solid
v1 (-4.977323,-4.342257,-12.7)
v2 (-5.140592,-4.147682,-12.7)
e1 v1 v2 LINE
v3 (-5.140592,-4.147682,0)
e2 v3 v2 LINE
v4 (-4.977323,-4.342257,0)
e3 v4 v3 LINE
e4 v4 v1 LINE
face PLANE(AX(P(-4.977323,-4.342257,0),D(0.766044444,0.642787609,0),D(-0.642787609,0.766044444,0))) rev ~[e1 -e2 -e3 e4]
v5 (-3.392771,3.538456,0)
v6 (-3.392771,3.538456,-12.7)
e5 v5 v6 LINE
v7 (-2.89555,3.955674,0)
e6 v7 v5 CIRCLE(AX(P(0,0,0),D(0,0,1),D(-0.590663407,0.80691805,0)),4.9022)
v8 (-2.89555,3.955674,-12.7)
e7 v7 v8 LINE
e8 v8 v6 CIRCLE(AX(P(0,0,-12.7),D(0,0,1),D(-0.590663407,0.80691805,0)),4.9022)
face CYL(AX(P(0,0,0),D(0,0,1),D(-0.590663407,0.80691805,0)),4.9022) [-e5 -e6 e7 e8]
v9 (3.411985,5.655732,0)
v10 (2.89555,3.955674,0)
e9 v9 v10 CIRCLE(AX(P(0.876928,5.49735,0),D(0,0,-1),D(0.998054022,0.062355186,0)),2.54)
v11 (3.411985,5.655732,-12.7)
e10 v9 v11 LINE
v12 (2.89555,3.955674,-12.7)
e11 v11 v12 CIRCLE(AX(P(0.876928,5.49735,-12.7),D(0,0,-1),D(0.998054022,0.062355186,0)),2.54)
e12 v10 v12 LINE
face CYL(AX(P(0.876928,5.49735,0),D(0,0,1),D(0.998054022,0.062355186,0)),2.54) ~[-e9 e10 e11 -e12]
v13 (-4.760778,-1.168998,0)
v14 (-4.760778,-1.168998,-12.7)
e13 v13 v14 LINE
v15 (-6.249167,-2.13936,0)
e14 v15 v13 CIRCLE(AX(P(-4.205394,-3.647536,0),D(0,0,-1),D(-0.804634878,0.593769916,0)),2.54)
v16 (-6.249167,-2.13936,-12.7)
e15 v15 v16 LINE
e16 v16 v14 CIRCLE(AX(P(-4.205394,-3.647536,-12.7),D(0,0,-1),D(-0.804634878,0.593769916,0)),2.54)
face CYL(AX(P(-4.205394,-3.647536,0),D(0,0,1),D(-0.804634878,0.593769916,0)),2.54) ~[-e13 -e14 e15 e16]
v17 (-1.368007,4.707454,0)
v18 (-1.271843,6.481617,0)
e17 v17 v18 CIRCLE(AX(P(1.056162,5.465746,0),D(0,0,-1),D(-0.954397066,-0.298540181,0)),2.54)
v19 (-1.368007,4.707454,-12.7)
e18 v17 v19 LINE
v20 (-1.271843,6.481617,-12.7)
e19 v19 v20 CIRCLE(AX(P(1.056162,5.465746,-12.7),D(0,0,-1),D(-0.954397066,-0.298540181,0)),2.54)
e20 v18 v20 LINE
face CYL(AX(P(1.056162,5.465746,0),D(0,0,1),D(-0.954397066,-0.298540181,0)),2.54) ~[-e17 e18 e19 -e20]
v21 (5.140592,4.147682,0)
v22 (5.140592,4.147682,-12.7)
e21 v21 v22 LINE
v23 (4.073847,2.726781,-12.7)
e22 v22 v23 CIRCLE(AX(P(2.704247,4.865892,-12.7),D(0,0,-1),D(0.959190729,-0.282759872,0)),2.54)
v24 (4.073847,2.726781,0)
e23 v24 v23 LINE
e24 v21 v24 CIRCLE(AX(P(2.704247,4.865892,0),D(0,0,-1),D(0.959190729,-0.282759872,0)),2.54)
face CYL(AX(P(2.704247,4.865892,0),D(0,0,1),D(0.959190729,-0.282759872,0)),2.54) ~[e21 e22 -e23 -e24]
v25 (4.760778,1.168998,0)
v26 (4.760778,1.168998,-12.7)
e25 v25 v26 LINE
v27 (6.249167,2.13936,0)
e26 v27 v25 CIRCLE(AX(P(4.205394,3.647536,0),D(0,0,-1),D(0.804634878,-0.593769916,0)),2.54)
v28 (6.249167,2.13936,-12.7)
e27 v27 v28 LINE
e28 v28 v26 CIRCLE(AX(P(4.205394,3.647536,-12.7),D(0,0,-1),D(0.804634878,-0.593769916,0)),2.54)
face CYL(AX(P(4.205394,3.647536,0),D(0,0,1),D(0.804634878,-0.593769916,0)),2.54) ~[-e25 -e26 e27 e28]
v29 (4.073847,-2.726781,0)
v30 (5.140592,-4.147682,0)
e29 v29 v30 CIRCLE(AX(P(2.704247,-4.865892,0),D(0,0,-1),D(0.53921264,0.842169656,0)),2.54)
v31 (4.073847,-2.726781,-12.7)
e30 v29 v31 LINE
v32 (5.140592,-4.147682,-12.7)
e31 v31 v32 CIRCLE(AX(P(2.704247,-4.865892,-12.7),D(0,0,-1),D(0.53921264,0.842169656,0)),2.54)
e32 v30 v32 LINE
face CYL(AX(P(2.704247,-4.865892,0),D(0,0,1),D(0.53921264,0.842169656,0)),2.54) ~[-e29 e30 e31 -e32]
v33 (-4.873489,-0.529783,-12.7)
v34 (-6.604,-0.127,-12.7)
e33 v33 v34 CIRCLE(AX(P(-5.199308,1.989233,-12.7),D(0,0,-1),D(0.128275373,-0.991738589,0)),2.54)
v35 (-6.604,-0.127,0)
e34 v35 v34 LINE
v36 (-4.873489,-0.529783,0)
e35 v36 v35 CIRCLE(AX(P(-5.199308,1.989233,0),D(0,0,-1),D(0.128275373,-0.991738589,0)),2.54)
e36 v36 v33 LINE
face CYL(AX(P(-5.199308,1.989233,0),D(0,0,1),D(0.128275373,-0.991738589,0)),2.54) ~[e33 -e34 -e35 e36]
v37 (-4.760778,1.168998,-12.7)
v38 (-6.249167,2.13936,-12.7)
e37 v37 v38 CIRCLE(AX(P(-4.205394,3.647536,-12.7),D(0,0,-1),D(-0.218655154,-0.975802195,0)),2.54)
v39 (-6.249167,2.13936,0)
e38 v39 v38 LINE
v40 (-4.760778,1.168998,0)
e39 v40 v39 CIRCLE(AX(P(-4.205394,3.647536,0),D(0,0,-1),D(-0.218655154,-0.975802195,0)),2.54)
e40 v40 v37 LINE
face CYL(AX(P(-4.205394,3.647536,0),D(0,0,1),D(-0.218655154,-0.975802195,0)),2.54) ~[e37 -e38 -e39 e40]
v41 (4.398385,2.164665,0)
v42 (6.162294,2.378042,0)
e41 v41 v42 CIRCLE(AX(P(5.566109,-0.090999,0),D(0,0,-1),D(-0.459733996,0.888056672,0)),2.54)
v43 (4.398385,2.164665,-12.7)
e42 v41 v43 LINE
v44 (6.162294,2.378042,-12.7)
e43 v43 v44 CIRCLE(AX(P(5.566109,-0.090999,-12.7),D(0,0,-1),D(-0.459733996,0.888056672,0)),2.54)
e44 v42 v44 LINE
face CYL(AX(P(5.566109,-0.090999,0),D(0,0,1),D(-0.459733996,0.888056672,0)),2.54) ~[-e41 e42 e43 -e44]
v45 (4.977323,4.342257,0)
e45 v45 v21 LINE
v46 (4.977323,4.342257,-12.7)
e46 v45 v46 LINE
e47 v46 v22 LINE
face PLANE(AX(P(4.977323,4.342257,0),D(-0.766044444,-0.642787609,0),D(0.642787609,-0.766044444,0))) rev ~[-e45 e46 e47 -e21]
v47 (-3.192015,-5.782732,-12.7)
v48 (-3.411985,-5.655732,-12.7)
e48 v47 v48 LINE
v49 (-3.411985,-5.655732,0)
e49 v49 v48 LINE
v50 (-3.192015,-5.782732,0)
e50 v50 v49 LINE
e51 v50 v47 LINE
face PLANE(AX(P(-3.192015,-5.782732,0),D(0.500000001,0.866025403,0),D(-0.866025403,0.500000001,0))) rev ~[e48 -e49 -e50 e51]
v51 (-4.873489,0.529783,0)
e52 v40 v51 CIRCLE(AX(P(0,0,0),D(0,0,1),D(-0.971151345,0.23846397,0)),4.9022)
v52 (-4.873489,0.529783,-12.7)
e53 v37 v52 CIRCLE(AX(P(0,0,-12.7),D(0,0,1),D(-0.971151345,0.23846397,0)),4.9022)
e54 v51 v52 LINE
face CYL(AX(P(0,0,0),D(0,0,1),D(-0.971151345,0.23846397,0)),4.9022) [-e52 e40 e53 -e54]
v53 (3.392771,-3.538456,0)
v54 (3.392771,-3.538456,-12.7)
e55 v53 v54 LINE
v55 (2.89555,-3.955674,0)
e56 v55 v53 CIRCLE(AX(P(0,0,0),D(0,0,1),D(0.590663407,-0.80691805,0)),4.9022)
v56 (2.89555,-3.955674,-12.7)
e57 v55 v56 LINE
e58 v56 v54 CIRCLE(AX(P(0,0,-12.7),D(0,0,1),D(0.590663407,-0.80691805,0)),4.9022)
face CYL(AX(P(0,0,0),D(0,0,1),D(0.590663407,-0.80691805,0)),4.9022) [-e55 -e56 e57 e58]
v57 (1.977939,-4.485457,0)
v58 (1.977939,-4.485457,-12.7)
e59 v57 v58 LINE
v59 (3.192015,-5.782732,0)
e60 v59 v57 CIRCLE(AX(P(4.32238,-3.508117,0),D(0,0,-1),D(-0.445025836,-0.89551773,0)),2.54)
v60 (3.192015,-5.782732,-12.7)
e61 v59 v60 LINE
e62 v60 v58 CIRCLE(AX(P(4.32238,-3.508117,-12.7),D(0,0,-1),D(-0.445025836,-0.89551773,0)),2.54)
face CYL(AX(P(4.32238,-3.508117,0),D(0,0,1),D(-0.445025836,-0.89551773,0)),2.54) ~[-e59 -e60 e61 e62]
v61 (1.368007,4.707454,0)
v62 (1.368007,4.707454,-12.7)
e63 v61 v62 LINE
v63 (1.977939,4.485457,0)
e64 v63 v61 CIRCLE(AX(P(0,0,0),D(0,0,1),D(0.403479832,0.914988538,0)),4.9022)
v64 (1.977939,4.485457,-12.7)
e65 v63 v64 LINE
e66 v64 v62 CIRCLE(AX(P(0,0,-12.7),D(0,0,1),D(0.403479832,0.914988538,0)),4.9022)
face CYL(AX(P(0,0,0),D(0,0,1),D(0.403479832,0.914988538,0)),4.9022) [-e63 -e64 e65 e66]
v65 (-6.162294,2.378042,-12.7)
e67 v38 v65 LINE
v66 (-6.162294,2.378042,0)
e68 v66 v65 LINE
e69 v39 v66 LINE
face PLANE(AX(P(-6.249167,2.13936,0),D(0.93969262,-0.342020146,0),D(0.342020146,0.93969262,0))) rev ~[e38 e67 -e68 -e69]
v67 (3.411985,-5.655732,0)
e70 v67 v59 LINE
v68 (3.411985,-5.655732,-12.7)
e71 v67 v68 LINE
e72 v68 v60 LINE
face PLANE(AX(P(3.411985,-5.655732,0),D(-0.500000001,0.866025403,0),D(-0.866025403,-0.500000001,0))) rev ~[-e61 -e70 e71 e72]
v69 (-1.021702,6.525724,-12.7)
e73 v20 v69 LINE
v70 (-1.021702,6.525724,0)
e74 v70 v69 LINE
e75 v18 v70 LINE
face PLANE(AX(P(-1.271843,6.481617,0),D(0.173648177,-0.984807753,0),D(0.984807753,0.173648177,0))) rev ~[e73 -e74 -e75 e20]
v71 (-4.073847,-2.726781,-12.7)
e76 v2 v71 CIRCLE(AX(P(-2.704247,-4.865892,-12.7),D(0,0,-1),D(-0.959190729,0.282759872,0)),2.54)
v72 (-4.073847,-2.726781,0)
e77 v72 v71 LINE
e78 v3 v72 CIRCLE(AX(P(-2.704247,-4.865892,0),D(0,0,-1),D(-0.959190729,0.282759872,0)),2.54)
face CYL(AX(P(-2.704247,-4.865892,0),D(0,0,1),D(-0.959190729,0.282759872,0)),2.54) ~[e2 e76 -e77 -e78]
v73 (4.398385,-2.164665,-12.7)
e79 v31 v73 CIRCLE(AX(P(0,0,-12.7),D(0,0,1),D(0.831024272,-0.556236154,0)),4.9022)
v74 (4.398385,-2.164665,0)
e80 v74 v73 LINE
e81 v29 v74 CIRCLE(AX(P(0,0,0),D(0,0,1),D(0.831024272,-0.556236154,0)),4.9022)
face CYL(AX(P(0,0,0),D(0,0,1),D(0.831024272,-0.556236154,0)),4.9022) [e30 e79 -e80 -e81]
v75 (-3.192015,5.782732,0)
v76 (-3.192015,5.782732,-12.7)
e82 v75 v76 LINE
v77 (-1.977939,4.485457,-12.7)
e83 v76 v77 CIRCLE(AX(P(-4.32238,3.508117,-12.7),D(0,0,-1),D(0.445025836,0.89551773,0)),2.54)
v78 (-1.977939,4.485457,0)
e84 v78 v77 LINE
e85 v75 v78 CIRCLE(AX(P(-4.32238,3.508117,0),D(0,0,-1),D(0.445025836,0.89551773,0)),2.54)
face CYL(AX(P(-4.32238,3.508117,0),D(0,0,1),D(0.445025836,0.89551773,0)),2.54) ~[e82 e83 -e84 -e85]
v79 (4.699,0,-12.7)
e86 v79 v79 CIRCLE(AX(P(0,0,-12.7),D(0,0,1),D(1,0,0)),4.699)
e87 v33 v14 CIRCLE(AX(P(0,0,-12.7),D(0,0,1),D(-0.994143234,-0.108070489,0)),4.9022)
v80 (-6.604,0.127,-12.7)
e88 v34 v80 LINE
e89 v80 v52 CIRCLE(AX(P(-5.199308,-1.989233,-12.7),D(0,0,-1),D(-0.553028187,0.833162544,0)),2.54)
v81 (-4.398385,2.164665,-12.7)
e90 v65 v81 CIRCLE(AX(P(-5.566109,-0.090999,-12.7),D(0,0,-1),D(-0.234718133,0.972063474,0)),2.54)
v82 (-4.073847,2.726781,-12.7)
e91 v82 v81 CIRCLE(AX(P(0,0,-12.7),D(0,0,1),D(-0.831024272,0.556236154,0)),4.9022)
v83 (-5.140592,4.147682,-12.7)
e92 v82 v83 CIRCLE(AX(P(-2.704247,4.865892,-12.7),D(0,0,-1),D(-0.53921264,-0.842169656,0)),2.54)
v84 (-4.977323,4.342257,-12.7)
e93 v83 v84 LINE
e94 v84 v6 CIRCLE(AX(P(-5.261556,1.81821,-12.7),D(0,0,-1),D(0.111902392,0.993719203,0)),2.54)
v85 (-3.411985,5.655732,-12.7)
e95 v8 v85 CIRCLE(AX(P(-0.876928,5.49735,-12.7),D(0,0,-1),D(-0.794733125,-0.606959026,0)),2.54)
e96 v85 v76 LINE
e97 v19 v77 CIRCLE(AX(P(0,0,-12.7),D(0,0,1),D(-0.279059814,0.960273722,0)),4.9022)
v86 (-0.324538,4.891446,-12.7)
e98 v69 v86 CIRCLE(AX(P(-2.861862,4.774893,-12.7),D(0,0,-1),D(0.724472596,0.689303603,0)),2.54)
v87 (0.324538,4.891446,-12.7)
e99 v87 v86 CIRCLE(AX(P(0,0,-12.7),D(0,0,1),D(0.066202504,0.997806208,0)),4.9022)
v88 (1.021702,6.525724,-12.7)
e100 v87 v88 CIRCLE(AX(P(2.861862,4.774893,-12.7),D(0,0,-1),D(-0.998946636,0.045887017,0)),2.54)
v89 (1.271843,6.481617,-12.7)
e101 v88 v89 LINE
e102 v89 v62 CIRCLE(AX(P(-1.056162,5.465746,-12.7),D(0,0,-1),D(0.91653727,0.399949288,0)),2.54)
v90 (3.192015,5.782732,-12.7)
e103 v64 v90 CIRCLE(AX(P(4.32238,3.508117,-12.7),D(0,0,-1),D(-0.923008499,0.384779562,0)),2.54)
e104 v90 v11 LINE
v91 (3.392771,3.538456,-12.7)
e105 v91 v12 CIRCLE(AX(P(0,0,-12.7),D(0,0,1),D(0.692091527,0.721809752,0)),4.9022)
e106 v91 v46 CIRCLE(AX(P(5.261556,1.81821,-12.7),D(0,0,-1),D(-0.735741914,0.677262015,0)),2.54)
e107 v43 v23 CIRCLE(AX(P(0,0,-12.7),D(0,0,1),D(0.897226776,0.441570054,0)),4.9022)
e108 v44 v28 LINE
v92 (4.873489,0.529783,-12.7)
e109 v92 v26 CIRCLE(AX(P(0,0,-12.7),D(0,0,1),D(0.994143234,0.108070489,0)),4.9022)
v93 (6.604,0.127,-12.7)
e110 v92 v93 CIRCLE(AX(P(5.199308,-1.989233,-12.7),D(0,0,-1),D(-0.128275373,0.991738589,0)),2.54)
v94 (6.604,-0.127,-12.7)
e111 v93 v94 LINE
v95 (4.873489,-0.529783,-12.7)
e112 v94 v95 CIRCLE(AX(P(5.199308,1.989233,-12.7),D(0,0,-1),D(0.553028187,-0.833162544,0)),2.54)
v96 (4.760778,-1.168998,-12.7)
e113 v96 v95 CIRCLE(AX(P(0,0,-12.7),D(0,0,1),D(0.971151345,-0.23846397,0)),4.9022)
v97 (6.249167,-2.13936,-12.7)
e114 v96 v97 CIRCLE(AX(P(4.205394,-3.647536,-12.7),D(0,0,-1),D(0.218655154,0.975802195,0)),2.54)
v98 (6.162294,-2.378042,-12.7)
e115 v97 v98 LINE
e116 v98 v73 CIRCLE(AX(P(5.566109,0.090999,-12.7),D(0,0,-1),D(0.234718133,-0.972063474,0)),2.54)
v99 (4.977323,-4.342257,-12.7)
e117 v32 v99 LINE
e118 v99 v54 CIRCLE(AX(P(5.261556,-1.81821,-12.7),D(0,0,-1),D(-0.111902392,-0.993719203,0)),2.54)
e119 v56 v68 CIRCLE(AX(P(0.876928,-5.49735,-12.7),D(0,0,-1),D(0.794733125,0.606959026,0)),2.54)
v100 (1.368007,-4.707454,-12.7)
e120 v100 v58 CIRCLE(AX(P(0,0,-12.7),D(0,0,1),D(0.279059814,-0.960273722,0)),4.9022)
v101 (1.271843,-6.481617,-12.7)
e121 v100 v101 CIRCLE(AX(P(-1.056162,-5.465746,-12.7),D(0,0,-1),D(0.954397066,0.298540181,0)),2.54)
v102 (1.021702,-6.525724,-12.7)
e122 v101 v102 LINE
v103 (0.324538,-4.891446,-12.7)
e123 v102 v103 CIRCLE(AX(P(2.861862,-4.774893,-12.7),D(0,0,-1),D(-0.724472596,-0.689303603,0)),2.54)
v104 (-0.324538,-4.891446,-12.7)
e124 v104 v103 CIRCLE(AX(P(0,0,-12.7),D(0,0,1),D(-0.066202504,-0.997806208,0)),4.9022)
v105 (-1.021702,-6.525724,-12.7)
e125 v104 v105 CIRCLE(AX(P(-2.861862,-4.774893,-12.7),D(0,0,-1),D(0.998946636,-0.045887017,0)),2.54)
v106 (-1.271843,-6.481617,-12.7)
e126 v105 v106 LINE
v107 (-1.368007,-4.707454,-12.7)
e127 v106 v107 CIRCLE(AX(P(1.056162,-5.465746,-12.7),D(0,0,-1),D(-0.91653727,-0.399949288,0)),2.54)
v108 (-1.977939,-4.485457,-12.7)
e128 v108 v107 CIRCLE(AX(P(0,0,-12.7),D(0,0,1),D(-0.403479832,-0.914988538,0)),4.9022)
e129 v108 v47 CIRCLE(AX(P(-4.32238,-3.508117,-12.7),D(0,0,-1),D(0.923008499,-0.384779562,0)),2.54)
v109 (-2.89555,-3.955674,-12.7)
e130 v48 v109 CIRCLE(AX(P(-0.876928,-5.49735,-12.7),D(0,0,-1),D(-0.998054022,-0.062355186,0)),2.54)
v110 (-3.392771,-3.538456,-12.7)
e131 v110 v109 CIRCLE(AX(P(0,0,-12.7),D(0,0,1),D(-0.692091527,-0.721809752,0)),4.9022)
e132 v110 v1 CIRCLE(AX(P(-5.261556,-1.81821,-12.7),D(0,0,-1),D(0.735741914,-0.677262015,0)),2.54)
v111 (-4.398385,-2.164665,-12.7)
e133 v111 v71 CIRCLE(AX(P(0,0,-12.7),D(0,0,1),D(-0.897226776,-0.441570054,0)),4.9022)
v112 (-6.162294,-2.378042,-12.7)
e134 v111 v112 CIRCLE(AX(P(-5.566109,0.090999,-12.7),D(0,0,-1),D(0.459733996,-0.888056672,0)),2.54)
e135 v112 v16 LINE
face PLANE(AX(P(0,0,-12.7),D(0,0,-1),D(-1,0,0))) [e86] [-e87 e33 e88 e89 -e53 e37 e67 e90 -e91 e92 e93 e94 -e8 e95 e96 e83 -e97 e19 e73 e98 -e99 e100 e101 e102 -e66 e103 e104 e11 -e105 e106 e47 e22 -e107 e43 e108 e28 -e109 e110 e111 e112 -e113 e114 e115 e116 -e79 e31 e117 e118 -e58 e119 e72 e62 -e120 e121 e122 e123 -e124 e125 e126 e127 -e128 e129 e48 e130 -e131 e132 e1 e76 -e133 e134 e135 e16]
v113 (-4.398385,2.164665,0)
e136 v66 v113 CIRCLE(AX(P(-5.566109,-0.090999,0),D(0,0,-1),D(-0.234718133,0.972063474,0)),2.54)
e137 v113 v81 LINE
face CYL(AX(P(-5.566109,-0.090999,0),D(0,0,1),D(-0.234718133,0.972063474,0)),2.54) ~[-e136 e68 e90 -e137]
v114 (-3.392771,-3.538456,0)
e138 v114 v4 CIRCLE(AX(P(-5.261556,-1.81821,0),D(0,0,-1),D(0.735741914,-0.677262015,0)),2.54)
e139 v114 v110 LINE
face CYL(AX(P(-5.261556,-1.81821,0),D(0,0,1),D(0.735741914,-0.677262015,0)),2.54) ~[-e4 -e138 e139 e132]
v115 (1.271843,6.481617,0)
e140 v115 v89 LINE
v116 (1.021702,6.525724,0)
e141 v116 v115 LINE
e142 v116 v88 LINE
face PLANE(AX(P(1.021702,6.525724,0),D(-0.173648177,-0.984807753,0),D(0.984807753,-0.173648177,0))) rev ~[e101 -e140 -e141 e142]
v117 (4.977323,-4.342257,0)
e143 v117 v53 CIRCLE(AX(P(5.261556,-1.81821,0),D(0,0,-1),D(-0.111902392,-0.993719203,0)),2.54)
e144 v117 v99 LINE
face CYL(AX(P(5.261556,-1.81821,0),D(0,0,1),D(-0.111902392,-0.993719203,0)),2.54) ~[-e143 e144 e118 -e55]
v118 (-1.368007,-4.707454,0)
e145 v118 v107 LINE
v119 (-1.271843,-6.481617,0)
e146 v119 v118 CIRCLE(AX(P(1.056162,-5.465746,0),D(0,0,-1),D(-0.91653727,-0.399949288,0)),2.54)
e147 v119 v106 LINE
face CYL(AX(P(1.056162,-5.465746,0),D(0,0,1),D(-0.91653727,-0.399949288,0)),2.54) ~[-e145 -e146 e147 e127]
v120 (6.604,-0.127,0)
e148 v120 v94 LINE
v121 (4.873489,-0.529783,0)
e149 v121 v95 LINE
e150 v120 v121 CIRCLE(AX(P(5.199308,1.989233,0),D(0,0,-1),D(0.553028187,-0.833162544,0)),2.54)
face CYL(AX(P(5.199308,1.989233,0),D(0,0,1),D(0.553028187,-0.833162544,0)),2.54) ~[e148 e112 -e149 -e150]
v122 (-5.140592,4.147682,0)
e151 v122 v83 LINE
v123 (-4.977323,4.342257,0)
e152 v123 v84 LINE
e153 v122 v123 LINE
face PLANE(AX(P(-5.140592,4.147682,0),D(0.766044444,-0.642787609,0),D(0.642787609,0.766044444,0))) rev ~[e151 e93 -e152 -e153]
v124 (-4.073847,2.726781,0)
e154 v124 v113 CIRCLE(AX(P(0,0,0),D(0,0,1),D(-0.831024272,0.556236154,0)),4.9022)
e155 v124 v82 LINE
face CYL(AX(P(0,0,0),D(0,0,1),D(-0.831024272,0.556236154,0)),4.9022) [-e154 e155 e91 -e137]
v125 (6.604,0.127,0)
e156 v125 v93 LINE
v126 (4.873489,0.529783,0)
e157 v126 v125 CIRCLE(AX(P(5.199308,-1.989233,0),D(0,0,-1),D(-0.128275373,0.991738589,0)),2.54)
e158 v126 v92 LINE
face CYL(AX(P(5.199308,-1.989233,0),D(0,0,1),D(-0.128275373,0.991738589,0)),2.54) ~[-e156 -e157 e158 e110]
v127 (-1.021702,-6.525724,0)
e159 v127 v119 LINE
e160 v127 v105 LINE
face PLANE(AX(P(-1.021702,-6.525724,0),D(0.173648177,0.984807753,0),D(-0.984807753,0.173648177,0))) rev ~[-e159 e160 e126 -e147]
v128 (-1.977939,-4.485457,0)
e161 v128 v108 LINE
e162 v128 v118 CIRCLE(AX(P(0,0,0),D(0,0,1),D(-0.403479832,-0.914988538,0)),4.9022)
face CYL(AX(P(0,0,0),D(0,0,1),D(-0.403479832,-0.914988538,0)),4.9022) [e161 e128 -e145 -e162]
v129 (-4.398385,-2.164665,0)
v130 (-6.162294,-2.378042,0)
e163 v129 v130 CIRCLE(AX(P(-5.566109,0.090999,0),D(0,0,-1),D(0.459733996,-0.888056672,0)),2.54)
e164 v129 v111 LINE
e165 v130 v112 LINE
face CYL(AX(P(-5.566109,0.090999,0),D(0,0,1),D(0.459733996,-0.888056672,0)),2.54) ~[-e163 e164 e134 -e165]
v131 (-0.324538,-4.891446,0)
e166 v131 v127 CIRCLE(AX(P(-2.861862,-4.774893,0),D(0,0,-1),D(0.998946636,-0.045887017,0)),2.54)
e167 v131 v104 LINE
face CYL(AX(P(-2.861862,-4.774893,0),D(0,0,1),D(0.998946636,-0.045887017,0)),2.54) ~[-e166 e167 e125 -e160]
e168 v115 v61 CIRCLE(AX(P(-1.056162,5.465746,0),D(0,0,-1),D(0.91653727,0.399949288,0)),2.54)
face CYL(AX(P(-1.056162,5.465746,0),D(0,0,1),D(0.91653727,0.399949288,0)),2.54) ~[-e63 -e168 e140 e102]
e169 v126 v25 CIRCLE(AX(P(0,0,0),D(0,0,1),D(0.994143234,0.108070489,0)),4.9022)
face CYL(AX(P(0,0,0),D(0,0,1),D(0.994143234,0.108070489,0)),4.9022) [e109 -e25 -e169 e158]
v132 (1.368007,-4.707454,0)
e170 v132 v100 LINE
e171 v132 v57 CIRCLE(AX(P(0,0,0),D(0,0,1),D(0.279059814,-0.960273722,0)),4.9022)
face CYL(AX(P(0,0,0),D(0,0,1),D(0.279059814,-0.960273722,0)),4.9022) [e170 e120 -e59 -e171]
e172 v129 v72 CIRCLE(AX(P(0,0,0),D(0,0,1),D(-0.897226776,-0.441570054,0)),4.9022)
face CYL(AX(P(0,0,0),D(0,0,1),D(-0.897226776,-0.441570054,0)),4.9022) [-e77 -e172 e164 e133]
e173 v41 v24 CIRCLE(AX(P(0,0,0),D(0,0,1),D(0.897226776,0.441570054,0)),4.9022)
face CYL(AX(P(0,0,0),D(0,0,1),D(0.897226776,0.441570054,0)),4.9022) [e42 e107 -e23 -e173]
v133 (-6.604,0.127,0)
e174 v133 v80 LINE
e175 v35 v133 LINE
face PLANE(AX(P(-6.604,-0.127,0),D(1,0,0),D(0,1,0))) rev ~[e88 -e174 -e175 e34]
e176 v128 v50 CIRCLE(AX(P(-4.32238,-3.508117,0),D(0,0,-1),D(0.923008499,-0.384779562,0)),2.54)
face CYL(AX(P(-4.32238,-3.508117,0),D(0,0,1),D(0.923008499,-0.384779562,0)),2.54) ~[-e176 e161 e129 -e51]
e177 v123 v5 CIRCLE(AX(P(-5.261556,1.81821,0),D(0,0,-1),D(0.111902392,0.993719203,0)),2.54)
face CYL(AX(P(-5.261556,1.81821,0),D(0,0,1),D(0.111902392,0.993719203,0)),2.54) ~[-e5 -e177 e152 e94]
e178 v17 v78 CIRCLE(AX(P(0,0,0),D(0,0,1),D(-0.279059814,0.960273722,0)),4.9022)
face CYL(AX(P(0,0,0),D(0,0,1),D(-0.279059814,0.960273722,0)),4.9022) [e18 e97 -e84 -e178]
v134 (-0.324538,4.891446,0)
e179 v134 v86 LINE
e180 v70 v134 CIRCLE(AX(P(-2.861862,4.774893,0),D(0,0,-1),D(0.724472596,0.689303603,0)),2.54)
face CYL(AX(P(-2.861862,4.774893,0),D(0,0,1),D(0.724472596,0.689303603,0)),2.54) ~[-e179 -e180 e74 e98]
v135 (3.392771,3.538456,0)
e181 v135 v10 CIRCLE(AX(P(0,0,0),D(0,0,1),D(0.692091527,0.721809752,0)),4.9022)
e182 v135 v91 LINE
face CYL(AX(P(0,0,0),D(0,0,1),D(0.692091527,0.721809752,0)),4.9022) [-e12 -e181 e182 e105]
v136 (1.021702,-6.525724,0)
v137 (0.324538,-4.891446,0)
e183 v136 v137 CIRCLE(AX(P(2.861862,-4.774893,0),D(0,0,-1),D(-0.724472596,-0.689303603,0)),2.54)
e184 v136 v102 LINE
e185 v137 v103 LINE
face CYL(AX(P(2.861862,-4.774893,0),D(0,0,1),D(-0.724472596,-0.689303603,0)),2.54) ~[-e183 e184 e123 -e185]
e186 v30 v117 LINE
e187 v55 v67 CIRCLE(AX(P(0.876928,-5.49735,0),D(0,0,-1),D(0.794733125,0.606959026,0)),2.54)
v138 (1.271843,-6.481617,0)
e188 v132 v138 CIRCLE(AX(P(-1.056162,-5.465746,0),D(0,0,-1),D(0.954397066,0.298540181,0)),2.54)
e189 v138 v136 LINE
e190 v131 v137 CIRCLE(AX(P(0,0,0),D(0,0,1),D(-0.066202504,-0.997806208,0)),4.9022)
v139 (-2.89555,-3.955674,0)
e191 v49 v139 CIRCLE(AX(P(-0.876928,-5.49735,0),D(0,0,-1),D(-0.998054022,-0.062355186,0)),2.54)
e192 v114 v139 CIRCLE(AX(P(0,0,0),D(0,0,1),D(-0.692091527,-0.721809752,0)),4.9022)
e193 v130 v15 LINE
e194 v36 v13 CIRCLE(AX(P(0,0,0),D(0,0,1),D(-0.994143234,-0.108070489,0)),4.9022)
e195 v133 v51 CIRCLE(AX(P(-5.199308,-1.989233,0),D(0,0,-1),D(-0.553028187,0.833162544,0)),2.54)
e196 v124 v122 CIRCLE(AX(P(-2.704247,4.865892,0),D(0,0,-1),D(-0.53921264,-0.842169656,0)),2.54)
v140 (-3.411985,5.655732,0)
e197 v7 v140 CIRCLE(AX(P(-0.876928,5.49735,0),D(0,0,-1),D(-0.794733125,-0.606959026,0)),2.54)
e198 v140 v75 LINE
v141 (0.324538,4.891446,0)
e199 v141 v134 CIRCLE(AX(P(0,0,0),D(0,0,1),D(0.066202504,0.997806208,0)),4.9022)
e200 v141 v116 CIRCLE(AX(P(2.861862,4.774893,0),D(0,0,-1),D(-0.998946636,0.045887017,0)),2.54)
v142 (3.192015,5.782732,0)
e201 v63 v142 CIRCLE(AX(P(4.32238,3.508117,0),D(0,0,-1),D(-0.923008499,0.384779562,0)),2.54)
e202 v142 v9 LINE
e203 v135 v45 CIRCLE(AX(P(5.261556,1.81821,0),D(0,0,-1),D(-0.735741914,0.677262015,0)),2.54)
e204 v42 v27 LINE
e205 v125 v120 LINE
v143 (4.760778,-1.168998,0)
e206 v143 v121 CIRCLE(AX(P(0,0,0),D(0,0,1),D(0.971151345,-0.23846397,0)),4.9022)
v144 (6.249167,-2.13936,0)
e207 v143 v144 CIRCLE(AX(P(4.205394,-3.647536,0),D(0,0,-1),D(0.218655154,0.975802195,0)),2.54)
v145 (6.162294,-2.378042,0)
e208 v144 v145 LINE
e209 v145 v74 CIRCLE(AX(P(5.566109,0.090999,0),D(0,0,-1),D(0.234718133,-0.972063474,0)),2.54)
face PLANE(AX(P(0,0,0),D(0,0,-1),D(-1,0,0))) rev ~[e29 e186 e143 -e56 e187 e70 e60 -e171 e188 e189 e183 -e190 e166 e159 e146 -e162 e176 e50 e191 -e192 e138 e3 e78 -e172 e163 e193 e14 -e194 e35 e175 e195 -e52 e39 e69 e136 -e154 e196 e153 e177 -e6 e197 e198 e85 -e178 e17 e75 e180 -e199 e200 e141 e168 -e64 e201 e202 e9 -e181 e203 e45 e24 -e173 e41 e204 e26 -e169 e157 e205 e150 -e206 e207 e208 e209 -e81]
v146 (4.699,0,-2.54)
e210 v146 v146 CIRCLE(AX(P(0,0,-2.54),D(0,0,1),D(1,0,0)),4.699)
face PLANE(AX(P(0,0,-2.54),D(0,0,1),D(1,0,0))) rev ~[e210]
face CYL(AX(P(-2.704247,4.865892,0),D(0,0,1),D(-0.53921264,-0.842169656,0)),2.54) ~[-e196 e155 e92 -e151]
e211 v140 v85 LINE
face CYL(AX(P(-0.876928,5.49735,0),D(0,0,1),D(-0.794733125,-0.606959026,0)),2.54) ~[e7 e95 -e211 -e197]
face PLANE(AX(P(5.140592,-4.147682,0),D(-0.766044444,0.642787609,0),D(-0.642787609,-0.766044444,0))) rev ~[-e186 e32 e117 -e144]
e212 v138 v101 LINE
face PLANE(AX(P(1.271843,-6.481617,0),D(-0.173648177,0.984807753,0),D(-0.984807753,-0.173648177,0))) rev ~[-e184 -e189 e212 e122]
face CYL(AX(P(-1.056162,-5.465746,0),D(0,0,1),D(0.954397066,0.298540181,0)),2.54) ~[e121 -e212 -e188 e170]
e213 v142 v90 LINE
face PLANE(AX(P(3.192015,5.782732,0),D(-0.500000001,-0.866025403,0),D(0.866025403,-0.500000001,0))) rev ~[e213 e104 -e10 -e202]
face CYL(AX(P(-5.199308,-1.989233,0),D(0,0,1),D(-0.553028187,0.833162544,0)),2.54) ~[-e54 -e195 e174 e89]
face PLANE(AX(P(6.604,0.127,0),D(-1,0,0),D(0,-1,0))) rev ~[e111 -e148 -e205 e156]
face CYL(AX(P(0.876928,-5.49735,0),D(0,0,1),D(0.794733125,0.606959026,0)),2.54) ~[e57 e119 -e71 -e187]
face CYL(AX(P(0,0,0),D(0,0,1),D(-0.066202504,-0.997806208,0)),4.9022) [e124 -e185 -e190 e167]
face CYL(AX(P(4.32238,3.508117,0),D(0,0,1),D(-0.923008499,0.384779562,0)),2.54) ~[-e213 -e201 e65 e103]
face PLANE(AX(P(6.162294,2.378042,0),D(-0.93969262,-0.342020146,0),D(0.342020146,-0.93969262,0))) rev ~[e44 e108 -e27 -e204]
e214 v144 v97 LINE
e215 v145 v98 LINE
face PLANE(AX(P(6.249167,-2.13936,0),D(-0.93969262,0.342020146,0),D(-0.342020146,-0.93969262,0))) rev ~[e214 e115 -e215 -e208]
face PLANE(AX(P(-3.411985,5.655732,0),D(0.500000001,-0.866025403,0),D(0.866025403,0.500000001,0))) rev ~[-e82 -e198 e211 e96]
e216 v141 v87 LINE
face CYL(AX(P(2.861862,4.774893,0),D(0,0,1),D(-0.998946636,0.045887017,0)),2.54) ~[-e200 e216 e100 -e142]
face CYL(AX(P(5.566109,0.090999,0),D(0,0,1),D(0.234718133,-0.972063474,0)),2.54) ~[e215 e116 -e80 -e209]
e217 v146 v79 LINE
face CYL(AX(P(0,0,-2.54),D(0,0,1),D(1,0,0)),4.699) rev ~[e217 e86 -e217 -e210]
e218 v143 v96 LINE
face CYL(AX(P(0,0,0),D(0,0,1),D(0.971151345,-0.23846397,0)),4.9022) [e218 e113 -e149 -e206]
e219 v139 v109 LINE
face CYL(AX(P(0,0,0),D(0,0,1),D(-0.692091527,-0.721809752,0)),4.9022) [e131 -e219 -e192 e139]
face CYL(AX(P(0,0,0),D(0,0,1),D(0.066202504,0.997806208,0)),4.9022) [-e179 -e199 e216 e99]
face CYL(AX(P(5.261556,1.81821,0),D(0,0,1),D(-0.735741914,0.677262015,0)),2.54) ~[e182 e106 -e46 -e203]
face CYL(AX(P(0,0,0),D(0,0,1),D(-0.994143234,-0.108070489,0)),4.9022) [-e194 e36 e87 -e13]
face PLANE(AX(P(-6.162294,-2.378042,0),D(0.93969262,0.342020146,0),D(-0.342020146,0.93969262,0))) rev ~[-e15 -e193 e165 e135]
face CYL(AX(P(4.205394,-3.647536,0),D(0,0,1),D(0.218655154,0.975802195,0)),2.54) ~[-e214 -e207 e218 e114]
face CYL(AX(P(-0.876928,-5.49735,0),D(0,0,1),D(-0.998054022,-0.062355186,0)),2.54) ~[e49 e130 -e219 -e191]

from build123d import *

# Parameters (mm, degrees)
BOSS_EXTRUDE1_DEPTH = 12.7
LARGER_TEETH_DEPTH  = 12.7
CUT_EXTRUDE1_START  = -2.54
SKETCH2_R           = 4.699
CUT_EXTRUDE1_DEPTH  = 10.16


with BuildPart() as part:
    # Sketch1 → Boss-Extrude1 (new body)
    with BuildSketch(Plane.XY):
        with BuildLine():
            ThreePointArc((4.073847183, 2.72678088), (4.623694629, 3.268673913), (4.961814921, 3.962687559))
            ThreePointArc((4.961814921, 3.962687559), (4.864382214, 4.081701322), (4.76409555, 4.19832033))
            ThreePointArc((4.76409555, 4.19832033), (4.021911558, 3.98585105), (3.392771091, 3.53845576))
            ThreePointArc((3.392771091, 3.53845576), (3.15107342, 3.755303069), (2.895550149, 3.955673669))
            ThreePointArc((2.895550149, 3.955673669), (3.226899403, 4.652945455), (3.3072619, 5.420748908))
            ThreePointArc((3.3072619, 5.420748908), (3.175, 5.499261314), (3.040875312, 5.574547276))
            ThreePointArc((3.040875312, 5.574547276), (2.416119265, 5.121049586), (1.977938812, 4.485456821))
            ThreePointArc((1.977938812, 4.485456821), (1.676651147, 4.606561166), (1.368007033, 4.707453834))
            ThreePointArc((1.368007033, 4.707453834), (1.440892486, 5.476003106), (1.253804284, 6.224987937))
            ThreePointArc((1.253804284, 6.224987937), (1.102665928, 6.253529232), (0.950880633, 6.27840155))
            ThreePointArc((0.950880633, 6.27840155), (0.518907331, 5.638573964), (0.324537921, 4.891445592))
            ThreePointArc((0.324537921, 4.891445592), (0, 4.9022), (-0.324537921, 4.891445592))
            ThreePointArc((-0.324537921, 4.891445592), (-0.518907331, 5.638573964), (-0.950880633, 6.27840155))
            ThreePointArc((-0.950880633, 6.27840155), (-1.102665928, 6.253529232), (-1.253804284, 6.224987937))
            ThreePointArc((-1.253804284, 6.224987937), (-1.440892486, 5.476003106), (-1.368007033, 4.707453834))
            ThreePointArc((-1.368007033, 4.707453834), (-1.676651147, 4.606561166), (-1.977938812, 4.485456821))
            ThreePointArc((-1.977938812, 4.485456821), (-2.416119265, 5.121049586), (-3.040875312, 5.574547276))
            ThreePointArc((-3.040875312, 5.574547276), (-3.175, 5.499261314), (-3.3072619, 5.420748908))
            ThreePointArc((-3.3072619, 5.420748908), (-3.226899403, 4.652945455), (-2.895550149, 3.955673669))
            ThreePointArc((-2.895550149, 3.955673669), (-3.15107342, 3.755303069), (-3.392771091, 3.53845576))
            ThreePointArc((-3.392771091, 3.53845576), (-4.021911558, 3.98585105), (-4.76409555, 4.19832033))
            ThreePointArc((-4.76409555, 4.19832033), (-4.864382214, 4.081701322), (-4.961814921, 3.962687559))
            ThreePointArc((-4.961814921, 3.962687559), (-4.623694629, 3.268673913), (-4.073847183, 2.72678088))
            ThreePointArc((-4.073847183, 2.72678088), (-4.245429734, 2.4511), (-4.398385104, 2.164664712))
            ThreePointArc((-4.398385104, 2.164664712), (-5.14260196, 2.369900051), (-5.912695554, 2.315713991))
            ThreePointArc((-5.912695554, 2.315713991), (-5.967048142, 2.17182791), (-6.017899834, 2.026667607))
            ThreePointArc((-6.017899834, 2.026667607), (-5.462804044, 1.490152056), (-4.760778124, 1.168998074))
            ThreePointArc((-4.760778124, 1.168998074), (-4.827724567, 0.851258097), (-4.873488961, 0.529783153))
            ThreePointArc((-4.873488961, 0.529783153), (-5.643018669, 0.468104131), (-6.348137212, 0.153798368))
            ThreePointArc((-6.348137212, 0.153798368), (-6.35, 0), (-6.348137212, -0.153798368))
            ThreePointArc((-6.348137212, -0.153798368), (-5.643018669, -0.468104131), (-4.873488961, -0.529783153))
            ThreePointArc((-4.873488961, -0.529783153), (-4.827724567, -0.851258097), (-4.760778124, -1.168998074))
            ThreePointArc((-4.760778124, -1.168998074), (-5.462804044, -1.490152056), (-6.017899834, -2.026667607))
            ThreePointArc((-6.017899834, -2.026667607), (-5.967048142, -2.17182791), (-5.912695554, -2.315713991))
            ThreePointArc((-5.912695554, -2.315713991), (-5.14260196, -2.369900051), (-4.398385104, -2.164664712))
            ThreePointArc((-4.398385104, -2.164664712), (-4.245429734, -2.4511), (-4.073847183, -2.72678088))
            ThreePointArc((-4.073847183, -2.72678088), (-4.623694629, -3.268673913), (-4.961814921, -3.962687559))
            ThreePointArc((-4.961814921, -3.962687559), (-4.864382214, -4.081701322), (-4.76409555, -4.19832033))
            ThreePointArc((-4.76409555, -4.19832033), (-4.021911558, -3.98585105), (-3.392771091, -3.53845576))
            ThreePointArc((-3.392771091, -3.53845576), (-3.15107342, -3.755303069), (-2.895550149, -3.955673669))
            ThreePointArc((-2.895550149, -3.955673669), (-3.226899403, -4.652945455), (-3.3072619, -5.420748908))
            ThreePointArc((-3.3072619, -5.420748908), (-3.175, -5.499261314), (-3.040875312, -5.574547276))
            ThreePointArc((-3.040875312, -5.574547276), (-2.416119265, -5.121049586), (-1.977938812, -4.485456821))
            ThreePointArc((-1.977938812, -4.485456821), (-1.676651147, -4.606561166), (-1.368007033, -4.707453834))
            ThreePointArc((-1.368007033, -4.707453834), (-1.440892486, -5.476003106), (-1.253804284, -6.224987937))
            ThreePointArc((-1.253804284, -6.224987937), (-1.102665928, -6.253529232), (-0.950880633, -6.27840155))
            ThreePointArc((-0.950880633, -6.27840155), (-0.518907331, -5.638573964), (-0.324537921, -4.891445592))
            ThreePointArc((-0.324537921, -4.891445592), (0, -4.9022), (0.324537921, -4.891445592))
            ThreePointArc((0.324537921, -4.891445592), (0.518907331, -5.638573964), (0.950880633, -6.27840155))
            ThreePointArc((0.950880633, -6.27840155), (1.102665928, -6.253529232), (1.253804284, -6.224987937))
            ThreePointArc((1.253804284, -6.224987937), (1.440892486, -5.476003106), (1.368007033, -4.707453834))
            ThreePointArc((1.368007033, -4.707453834), (1.676651147, -4.606561166), (1.977938812, -4.485456821))
            ThreePointArc((1.977938812, -4.485456821), (2.416119265, -5.121049586), (3.040875312, -5.574547276))
            ThreePointArc((3.040875312, -5.574547276), (3.175, -5.499261314), (3.3072619, -5.420748908))
            ThreePointArc((3.3072619, -5.420748908), (3.226899403, -4.652945455), (2.895550149, -3.955673669))
            ThreePointArc((2.895550149, -3.955673669), (3.15107342, -3.755303069), (3.392771091, -3.53845576))
            ThreePointArc((3.392771091, -3.53845576), (4.021911558, -3.98585105), (4.76409555, -4.19832033))
            ThreePointArc((4.76409555, -4.19832033), (4.864382214, -4.081701322), (4.961814921, -3.962687559))
            ThreePointArc((4.961814921, -3.962687559), (4.623694629, -3.268673913), (4.073847183, -2.72678088))
            ThreePointArc((4.073847183, -2.72678088), (4.245429734, -2.4511), (4.398385104, -2.164664712))
            ThreePointArc((4.398385104, -2.164664712), (5.14260196, -2.369900051), (5.912695554, -2.315713991))
            ThreePointArc((5.912695554, -2.315713991), (5.967048142, -2.17182791), (6.017899834, -2.026667607))
            ThreePointArc((6.017899834, -2.026667607), (5.462804044, -1.490152056), (4.760778124, -1.168998074))
            ThreePointArc((4.760778124, -1.168998074), (4.827724567, -0.851258097), (4.873488961, -0.529783153))
            ThreePointArc((4.873488961, -0.529783153), (5.643018669, -0.468104131), (6.348137212, -0.153798368))
            ThreePointArc((6.348137212, -0.153798368), (6.35, 0), (6.348137212, 0.153798368))
            ThreePointArc((6.348137212, 0.153798368), (5.643018669, 0.468104131), (4.873488961, 0.529783153))
            ThreePointArc((4.873488961, 0.529783153), (4.827724567, 0.851258097), (4.760778124, 1.168998074))
            ThreePointArc((4.760778124, 1.168998074), (5.462804044, 1.490152056), (6.017899834, 2.026667607))
            ThreePointArc((6.017899834, 2.026667607), (5.967048142, 2.17182791), (5.912695554, 2.315713991))
            ThreePointArc((5.912695554, 2.315713991), (5.14260196, 2.369900051), (4.398385104, 2.164664712))
            ThreePointArc((4.398385104, 2.164664712), (4.245429734, 2.4511), (4.073847183, 2.72678088))
        make_face()
    extrude(amount=-BOSS_EXTRUDE1_DEPTH)

    # Sketch3 → Larger_Teeth (add)
    with BuildSketch(Plane.XY):
        with BuildLine():
            Line((6.604, 0.127), (6.604, -0.127))
            ThreePointArc((6.604, -0.127), (5.775112058, -0.48464065), (4.873488961, -0.529783153))
            ThreePointArc((4.873488961, -0.529783153), (4.827724567, -0.851258097), (4.760778124, -1.168998074))
            ThreePointArc((4.760778124, -1.168998074), (5.592587049, -1.519791412), (6.249166626, -2.139360064))
            Line((6.249166626, -2.139360064), (6.162293509, -2.378041989))
            ThreePointArc((6.162293509, -2.378041989), (5.261073321, -2.430617896), (4.398385104, -2.164664712))
            ThreePointArc((4.398385104, -2.164664712), (4.245429734, -2.4511), (4.073847183, -2.72678088))
            ThreePointArc((4.073847183, -2.72678088), (4.735513505, -3.340914199), (5.140591529, -4.14768173))
            Line((5.140591529, -4.14768173), (4.977323476, -4.342257019))
            ThreePointArc((4.977323476, -4.342257019), (4.112471496, -4.083426752), (3.392771091, -3.53845576))
            ThreePointArc((3.392771091, -3.53845576), (3.15107342, -3.755303069), (2.895550149, -3.955673669))
            ThreePointArc((2.895550149, -3.955673669), (3.307267143, -4.759073427), (3.411985226, -5.655731767))
            Line((3.411985226, -5.655731767), (3.192014774, -5.782731767))
            ThreePointArc((3.192014774, -5.782731767), (2.467844915, -5.243714077), (1.977938812, -4.485456821))
            ThreePointArc((1.977938812, -4.485456821), (1.676651147, -4.606561166), (1.368007033, -4.707453834))
            ThreePointArc((1.368007033, -4.707453834), (1.480115554, -5.603218164), (1.27184315, -6.481617082))
            Line((1.27184315, -6.481617082), (1.021701981, -6.525723719))
            ThreePointArc((1.021701981, -6.525723719), (0.525559816, -5.771532095), (0.324537921, -4.891445592))
            ThreePointArc((0.324537921, -4.891445592), (0, -4.9022), (-0.324537921, -4.891445592))
            ThreePointArc((-0.324537921, -4.891445592), (-0.525559816, -5.771532095), (-1.021701981, -6.525723719))
            Line((-1.021701981, -6.525723719), (-1.27184315, -6.481617082))
            ThreePointArc((-1.27184315, -6.481617082), (-1.480115554, -5.603218164), (-1.368007033, -4.707453834))
            ThreePointArc((-1.368007033, -4.707453834), (-1.676651147, -4.606561166), (-1.977938812, -4.485456821))
            ThreePointArc((-1.977938812, -4.485456821), (-2.467844915, -5.243714077), (-3.192014774, -5.782731767))
            Line((-3.192014774, -5.782731767), (-3.411985226, -5.655731767))
            ThreePointArc((-3.411985226, -5.655731767), (-3.307267143, -4.759073427), (-2.895550149, -3.955673669))
            ThreePointArc((-2.895550149, -3.955673669), (-3.15107342, -3.755303069), (-3.392771091, -3.53845576))
            ThreePointArc((-3.392771091, -3.53845576), (-4.112471496, -4.083426752), (-4.977323476, -4.342257019))
            Line((-4.977323476, -4.342257019), (-5.140591529, -4.14768173))
            ThreePointArc((-5.140591529, -4.14768173), (-4.735513505, -3.340914199), (-4.073847183, -2.72678088))
            ThreePointArc((-4.073847183, -2.72678088), (-4.245429734, -2.4511), (-4.398385104, -2.164664712))
            ThreePointArc((-4.398385104, -2.164664712), (-5.261073321, -2.430617896), (-6.162293509, -2.378041989))
            Line((-6.162293509, -2.378041989), (-6.249166626, -2.139360064))
            ThreePointArc((-6.249166626, -2.139360064), (-5.592587049, -1.519791412), (-4.760778124, -1.168998074))
            ThreePointArc((-4.760778124, -1.168998074), (-4.827724567, -0.851258097), (-4.873488961, -0.529783153))
            ThreePointArc((-4.873488961, -0.529783153), (-5.775112058, -0.48464065), (-6.604, -0.127))
            Line((-6.604, -0.127), (-6.604, 0.127))
            ThreePointArc((-6.604, 0.127), (-5.775112058, 0.48464065), (-4.873488961, 0.529783153))
            ThreePointArc((-4.873488961, 0.529783153), (-4.827724567, 0.851258097), (-4.760778124, 1.168998074))
            ThreePointArc((-4.760778124, 1.168998074), (-5.592587049, 1.519791412), (-6.249166626, 2.139360064))
            Line((-6.249166626, 2.139360064), (-6.162293509, 2.378041989))
            ThreePointArc((-6.162293509, 2.378041989), (-5.261073321, 2.430617896), (-4.398385104, 2.164664712))
            ThreePointArc((-4.398385104, 2.164664712), (-4.245429734, 2.4511), (-4.073847183, 2.72678088))
            ThreePointArc((-4.073847183, 2.72678088), (-4.735513505, 3.340914199), (-5.140591529, 4.14768173))
            Line((-5.140591529, 4.14768173), (-4.977323476, 4.342257019))
            ThreePointArc((-4.977323476, 4.342257019), (-4.112471496, 4.083426752), (-3.392771091, 3.53845576))
            ThreePointArc((-3.392771091, 3.53845576), (-3.15107342, 3.755303069), (-2.895550149, 3.955673669))
            ThreePointArc((-2.895550149, 3.955673669), (-3.307267143, 4.759073427), (-3.411985226, 5.655731767))
            Line((-3.411985226, 5.655731767), (-3.192014774, 5.782731767))
            ThreePointArc((-3.192014774, 5.782731767), (-2.467844915, 5.243714077), (-1.977938812, 4.485456821))
            ThreePointArc((-1.977938812, 4.485456821), (-1.676651147, 4.606561166), (-1.368007033, 4.707453834))
            ThreePointArc((-1.368007033, 4.707453834), (-1.480115554, 5.603218164), (-1.27184315, 6.481617082))
            Line((-1.27184315, 6.481617082), (-1.021701981, 6.525723719))
            ThreePointArc((-1.021701981, 6.525723719), (-0.525559816, 5.771532095), (-0.324537921, 4.891445592))
            ThreePointArc((-0.324537921, 4.891445592), (0, 4.9022), (0.324537921, 4.891445592))
            ThreePointArc((0.324537921, 4.891445592), (0.525559816, 5.771532095), (1.021701981, 6.525723719))
            Line((1.021701981, 6.525723719), (1.27184315, 6.481617082))
            ThreePointArc((1.27184315, 6.481617082), (1.480115554, 5.603218164), (1.368007033, 4.707453834))
            ThreePointArc((1.368007033, 4.707453834), (1.676651147, 4.606561166), (1.977938812, 4.485456821))
            ThreePointArc((1.977938812, 4.485456821), (2.467844915, 5.243714077), (3.192014774, 5.782731767))
            Line((3.192014774, 5.782731767), (3.411985226, 5.655731767))
            ThreePointArc((3.411985226, 5.655731767), (3.307267143, 4.759073427), (2.895550149, 3.955673669))
            ThreePointArc((2.895550149, 3.955673669), (3.15107342, 3.755303069), (3.392771091, 3.53845576))
            ThreePointArc((3.392771091, 3.53845576), (4.112471496, 4.083426752), (4.977323476, 4.342257019))
            Line((4.977323476, 4.342257019), (5.140591529, 4.14768173))
            ThreePointArc((5.140591529, 4.14768173), (4.735513505, 3.340914199), (4.073847183, 2.72678088))
            ThreePointArc((4.073847183, 2.72678088), (4.245429734, 2.4511), (4.398385104, 2.164664712))
            ThreePointArc((4.398385104, 2.164664712), (5.261073321, 2.430617896), (6.162293509, 2.378041989))
            Line((6.162293509, 2.378041989), (6.249166626, 2.139360064))
            ThreePointArc((6.249166626, 2.139360064), (5.592587049, 1.519791412), (4.760778124, 1.168998074))
            ThreePointArc((4.760778124, 1.168998074), (4.827724567, 0.851258097), (4.873488961, 0.529783153))
            ThreePointArc((4.873488961, 0.529783153), (5.775112058, 0.48464065), (6.604, 0.127))
        make_face()
    extrude(amount=-LARGER_TEETH_DEPTH)

    # Sketch2 → Cut-Extrude1 (cut)
    with BuildSketch(Plane.XY.offset(CUT_EXTRUDE1_START)):
        Circle(SKETCH2_R)
    extrude(amount=-CUT_EXTRUDE1_DEPTH, mode=Mode.SUBTRACT)


solid = part.part
